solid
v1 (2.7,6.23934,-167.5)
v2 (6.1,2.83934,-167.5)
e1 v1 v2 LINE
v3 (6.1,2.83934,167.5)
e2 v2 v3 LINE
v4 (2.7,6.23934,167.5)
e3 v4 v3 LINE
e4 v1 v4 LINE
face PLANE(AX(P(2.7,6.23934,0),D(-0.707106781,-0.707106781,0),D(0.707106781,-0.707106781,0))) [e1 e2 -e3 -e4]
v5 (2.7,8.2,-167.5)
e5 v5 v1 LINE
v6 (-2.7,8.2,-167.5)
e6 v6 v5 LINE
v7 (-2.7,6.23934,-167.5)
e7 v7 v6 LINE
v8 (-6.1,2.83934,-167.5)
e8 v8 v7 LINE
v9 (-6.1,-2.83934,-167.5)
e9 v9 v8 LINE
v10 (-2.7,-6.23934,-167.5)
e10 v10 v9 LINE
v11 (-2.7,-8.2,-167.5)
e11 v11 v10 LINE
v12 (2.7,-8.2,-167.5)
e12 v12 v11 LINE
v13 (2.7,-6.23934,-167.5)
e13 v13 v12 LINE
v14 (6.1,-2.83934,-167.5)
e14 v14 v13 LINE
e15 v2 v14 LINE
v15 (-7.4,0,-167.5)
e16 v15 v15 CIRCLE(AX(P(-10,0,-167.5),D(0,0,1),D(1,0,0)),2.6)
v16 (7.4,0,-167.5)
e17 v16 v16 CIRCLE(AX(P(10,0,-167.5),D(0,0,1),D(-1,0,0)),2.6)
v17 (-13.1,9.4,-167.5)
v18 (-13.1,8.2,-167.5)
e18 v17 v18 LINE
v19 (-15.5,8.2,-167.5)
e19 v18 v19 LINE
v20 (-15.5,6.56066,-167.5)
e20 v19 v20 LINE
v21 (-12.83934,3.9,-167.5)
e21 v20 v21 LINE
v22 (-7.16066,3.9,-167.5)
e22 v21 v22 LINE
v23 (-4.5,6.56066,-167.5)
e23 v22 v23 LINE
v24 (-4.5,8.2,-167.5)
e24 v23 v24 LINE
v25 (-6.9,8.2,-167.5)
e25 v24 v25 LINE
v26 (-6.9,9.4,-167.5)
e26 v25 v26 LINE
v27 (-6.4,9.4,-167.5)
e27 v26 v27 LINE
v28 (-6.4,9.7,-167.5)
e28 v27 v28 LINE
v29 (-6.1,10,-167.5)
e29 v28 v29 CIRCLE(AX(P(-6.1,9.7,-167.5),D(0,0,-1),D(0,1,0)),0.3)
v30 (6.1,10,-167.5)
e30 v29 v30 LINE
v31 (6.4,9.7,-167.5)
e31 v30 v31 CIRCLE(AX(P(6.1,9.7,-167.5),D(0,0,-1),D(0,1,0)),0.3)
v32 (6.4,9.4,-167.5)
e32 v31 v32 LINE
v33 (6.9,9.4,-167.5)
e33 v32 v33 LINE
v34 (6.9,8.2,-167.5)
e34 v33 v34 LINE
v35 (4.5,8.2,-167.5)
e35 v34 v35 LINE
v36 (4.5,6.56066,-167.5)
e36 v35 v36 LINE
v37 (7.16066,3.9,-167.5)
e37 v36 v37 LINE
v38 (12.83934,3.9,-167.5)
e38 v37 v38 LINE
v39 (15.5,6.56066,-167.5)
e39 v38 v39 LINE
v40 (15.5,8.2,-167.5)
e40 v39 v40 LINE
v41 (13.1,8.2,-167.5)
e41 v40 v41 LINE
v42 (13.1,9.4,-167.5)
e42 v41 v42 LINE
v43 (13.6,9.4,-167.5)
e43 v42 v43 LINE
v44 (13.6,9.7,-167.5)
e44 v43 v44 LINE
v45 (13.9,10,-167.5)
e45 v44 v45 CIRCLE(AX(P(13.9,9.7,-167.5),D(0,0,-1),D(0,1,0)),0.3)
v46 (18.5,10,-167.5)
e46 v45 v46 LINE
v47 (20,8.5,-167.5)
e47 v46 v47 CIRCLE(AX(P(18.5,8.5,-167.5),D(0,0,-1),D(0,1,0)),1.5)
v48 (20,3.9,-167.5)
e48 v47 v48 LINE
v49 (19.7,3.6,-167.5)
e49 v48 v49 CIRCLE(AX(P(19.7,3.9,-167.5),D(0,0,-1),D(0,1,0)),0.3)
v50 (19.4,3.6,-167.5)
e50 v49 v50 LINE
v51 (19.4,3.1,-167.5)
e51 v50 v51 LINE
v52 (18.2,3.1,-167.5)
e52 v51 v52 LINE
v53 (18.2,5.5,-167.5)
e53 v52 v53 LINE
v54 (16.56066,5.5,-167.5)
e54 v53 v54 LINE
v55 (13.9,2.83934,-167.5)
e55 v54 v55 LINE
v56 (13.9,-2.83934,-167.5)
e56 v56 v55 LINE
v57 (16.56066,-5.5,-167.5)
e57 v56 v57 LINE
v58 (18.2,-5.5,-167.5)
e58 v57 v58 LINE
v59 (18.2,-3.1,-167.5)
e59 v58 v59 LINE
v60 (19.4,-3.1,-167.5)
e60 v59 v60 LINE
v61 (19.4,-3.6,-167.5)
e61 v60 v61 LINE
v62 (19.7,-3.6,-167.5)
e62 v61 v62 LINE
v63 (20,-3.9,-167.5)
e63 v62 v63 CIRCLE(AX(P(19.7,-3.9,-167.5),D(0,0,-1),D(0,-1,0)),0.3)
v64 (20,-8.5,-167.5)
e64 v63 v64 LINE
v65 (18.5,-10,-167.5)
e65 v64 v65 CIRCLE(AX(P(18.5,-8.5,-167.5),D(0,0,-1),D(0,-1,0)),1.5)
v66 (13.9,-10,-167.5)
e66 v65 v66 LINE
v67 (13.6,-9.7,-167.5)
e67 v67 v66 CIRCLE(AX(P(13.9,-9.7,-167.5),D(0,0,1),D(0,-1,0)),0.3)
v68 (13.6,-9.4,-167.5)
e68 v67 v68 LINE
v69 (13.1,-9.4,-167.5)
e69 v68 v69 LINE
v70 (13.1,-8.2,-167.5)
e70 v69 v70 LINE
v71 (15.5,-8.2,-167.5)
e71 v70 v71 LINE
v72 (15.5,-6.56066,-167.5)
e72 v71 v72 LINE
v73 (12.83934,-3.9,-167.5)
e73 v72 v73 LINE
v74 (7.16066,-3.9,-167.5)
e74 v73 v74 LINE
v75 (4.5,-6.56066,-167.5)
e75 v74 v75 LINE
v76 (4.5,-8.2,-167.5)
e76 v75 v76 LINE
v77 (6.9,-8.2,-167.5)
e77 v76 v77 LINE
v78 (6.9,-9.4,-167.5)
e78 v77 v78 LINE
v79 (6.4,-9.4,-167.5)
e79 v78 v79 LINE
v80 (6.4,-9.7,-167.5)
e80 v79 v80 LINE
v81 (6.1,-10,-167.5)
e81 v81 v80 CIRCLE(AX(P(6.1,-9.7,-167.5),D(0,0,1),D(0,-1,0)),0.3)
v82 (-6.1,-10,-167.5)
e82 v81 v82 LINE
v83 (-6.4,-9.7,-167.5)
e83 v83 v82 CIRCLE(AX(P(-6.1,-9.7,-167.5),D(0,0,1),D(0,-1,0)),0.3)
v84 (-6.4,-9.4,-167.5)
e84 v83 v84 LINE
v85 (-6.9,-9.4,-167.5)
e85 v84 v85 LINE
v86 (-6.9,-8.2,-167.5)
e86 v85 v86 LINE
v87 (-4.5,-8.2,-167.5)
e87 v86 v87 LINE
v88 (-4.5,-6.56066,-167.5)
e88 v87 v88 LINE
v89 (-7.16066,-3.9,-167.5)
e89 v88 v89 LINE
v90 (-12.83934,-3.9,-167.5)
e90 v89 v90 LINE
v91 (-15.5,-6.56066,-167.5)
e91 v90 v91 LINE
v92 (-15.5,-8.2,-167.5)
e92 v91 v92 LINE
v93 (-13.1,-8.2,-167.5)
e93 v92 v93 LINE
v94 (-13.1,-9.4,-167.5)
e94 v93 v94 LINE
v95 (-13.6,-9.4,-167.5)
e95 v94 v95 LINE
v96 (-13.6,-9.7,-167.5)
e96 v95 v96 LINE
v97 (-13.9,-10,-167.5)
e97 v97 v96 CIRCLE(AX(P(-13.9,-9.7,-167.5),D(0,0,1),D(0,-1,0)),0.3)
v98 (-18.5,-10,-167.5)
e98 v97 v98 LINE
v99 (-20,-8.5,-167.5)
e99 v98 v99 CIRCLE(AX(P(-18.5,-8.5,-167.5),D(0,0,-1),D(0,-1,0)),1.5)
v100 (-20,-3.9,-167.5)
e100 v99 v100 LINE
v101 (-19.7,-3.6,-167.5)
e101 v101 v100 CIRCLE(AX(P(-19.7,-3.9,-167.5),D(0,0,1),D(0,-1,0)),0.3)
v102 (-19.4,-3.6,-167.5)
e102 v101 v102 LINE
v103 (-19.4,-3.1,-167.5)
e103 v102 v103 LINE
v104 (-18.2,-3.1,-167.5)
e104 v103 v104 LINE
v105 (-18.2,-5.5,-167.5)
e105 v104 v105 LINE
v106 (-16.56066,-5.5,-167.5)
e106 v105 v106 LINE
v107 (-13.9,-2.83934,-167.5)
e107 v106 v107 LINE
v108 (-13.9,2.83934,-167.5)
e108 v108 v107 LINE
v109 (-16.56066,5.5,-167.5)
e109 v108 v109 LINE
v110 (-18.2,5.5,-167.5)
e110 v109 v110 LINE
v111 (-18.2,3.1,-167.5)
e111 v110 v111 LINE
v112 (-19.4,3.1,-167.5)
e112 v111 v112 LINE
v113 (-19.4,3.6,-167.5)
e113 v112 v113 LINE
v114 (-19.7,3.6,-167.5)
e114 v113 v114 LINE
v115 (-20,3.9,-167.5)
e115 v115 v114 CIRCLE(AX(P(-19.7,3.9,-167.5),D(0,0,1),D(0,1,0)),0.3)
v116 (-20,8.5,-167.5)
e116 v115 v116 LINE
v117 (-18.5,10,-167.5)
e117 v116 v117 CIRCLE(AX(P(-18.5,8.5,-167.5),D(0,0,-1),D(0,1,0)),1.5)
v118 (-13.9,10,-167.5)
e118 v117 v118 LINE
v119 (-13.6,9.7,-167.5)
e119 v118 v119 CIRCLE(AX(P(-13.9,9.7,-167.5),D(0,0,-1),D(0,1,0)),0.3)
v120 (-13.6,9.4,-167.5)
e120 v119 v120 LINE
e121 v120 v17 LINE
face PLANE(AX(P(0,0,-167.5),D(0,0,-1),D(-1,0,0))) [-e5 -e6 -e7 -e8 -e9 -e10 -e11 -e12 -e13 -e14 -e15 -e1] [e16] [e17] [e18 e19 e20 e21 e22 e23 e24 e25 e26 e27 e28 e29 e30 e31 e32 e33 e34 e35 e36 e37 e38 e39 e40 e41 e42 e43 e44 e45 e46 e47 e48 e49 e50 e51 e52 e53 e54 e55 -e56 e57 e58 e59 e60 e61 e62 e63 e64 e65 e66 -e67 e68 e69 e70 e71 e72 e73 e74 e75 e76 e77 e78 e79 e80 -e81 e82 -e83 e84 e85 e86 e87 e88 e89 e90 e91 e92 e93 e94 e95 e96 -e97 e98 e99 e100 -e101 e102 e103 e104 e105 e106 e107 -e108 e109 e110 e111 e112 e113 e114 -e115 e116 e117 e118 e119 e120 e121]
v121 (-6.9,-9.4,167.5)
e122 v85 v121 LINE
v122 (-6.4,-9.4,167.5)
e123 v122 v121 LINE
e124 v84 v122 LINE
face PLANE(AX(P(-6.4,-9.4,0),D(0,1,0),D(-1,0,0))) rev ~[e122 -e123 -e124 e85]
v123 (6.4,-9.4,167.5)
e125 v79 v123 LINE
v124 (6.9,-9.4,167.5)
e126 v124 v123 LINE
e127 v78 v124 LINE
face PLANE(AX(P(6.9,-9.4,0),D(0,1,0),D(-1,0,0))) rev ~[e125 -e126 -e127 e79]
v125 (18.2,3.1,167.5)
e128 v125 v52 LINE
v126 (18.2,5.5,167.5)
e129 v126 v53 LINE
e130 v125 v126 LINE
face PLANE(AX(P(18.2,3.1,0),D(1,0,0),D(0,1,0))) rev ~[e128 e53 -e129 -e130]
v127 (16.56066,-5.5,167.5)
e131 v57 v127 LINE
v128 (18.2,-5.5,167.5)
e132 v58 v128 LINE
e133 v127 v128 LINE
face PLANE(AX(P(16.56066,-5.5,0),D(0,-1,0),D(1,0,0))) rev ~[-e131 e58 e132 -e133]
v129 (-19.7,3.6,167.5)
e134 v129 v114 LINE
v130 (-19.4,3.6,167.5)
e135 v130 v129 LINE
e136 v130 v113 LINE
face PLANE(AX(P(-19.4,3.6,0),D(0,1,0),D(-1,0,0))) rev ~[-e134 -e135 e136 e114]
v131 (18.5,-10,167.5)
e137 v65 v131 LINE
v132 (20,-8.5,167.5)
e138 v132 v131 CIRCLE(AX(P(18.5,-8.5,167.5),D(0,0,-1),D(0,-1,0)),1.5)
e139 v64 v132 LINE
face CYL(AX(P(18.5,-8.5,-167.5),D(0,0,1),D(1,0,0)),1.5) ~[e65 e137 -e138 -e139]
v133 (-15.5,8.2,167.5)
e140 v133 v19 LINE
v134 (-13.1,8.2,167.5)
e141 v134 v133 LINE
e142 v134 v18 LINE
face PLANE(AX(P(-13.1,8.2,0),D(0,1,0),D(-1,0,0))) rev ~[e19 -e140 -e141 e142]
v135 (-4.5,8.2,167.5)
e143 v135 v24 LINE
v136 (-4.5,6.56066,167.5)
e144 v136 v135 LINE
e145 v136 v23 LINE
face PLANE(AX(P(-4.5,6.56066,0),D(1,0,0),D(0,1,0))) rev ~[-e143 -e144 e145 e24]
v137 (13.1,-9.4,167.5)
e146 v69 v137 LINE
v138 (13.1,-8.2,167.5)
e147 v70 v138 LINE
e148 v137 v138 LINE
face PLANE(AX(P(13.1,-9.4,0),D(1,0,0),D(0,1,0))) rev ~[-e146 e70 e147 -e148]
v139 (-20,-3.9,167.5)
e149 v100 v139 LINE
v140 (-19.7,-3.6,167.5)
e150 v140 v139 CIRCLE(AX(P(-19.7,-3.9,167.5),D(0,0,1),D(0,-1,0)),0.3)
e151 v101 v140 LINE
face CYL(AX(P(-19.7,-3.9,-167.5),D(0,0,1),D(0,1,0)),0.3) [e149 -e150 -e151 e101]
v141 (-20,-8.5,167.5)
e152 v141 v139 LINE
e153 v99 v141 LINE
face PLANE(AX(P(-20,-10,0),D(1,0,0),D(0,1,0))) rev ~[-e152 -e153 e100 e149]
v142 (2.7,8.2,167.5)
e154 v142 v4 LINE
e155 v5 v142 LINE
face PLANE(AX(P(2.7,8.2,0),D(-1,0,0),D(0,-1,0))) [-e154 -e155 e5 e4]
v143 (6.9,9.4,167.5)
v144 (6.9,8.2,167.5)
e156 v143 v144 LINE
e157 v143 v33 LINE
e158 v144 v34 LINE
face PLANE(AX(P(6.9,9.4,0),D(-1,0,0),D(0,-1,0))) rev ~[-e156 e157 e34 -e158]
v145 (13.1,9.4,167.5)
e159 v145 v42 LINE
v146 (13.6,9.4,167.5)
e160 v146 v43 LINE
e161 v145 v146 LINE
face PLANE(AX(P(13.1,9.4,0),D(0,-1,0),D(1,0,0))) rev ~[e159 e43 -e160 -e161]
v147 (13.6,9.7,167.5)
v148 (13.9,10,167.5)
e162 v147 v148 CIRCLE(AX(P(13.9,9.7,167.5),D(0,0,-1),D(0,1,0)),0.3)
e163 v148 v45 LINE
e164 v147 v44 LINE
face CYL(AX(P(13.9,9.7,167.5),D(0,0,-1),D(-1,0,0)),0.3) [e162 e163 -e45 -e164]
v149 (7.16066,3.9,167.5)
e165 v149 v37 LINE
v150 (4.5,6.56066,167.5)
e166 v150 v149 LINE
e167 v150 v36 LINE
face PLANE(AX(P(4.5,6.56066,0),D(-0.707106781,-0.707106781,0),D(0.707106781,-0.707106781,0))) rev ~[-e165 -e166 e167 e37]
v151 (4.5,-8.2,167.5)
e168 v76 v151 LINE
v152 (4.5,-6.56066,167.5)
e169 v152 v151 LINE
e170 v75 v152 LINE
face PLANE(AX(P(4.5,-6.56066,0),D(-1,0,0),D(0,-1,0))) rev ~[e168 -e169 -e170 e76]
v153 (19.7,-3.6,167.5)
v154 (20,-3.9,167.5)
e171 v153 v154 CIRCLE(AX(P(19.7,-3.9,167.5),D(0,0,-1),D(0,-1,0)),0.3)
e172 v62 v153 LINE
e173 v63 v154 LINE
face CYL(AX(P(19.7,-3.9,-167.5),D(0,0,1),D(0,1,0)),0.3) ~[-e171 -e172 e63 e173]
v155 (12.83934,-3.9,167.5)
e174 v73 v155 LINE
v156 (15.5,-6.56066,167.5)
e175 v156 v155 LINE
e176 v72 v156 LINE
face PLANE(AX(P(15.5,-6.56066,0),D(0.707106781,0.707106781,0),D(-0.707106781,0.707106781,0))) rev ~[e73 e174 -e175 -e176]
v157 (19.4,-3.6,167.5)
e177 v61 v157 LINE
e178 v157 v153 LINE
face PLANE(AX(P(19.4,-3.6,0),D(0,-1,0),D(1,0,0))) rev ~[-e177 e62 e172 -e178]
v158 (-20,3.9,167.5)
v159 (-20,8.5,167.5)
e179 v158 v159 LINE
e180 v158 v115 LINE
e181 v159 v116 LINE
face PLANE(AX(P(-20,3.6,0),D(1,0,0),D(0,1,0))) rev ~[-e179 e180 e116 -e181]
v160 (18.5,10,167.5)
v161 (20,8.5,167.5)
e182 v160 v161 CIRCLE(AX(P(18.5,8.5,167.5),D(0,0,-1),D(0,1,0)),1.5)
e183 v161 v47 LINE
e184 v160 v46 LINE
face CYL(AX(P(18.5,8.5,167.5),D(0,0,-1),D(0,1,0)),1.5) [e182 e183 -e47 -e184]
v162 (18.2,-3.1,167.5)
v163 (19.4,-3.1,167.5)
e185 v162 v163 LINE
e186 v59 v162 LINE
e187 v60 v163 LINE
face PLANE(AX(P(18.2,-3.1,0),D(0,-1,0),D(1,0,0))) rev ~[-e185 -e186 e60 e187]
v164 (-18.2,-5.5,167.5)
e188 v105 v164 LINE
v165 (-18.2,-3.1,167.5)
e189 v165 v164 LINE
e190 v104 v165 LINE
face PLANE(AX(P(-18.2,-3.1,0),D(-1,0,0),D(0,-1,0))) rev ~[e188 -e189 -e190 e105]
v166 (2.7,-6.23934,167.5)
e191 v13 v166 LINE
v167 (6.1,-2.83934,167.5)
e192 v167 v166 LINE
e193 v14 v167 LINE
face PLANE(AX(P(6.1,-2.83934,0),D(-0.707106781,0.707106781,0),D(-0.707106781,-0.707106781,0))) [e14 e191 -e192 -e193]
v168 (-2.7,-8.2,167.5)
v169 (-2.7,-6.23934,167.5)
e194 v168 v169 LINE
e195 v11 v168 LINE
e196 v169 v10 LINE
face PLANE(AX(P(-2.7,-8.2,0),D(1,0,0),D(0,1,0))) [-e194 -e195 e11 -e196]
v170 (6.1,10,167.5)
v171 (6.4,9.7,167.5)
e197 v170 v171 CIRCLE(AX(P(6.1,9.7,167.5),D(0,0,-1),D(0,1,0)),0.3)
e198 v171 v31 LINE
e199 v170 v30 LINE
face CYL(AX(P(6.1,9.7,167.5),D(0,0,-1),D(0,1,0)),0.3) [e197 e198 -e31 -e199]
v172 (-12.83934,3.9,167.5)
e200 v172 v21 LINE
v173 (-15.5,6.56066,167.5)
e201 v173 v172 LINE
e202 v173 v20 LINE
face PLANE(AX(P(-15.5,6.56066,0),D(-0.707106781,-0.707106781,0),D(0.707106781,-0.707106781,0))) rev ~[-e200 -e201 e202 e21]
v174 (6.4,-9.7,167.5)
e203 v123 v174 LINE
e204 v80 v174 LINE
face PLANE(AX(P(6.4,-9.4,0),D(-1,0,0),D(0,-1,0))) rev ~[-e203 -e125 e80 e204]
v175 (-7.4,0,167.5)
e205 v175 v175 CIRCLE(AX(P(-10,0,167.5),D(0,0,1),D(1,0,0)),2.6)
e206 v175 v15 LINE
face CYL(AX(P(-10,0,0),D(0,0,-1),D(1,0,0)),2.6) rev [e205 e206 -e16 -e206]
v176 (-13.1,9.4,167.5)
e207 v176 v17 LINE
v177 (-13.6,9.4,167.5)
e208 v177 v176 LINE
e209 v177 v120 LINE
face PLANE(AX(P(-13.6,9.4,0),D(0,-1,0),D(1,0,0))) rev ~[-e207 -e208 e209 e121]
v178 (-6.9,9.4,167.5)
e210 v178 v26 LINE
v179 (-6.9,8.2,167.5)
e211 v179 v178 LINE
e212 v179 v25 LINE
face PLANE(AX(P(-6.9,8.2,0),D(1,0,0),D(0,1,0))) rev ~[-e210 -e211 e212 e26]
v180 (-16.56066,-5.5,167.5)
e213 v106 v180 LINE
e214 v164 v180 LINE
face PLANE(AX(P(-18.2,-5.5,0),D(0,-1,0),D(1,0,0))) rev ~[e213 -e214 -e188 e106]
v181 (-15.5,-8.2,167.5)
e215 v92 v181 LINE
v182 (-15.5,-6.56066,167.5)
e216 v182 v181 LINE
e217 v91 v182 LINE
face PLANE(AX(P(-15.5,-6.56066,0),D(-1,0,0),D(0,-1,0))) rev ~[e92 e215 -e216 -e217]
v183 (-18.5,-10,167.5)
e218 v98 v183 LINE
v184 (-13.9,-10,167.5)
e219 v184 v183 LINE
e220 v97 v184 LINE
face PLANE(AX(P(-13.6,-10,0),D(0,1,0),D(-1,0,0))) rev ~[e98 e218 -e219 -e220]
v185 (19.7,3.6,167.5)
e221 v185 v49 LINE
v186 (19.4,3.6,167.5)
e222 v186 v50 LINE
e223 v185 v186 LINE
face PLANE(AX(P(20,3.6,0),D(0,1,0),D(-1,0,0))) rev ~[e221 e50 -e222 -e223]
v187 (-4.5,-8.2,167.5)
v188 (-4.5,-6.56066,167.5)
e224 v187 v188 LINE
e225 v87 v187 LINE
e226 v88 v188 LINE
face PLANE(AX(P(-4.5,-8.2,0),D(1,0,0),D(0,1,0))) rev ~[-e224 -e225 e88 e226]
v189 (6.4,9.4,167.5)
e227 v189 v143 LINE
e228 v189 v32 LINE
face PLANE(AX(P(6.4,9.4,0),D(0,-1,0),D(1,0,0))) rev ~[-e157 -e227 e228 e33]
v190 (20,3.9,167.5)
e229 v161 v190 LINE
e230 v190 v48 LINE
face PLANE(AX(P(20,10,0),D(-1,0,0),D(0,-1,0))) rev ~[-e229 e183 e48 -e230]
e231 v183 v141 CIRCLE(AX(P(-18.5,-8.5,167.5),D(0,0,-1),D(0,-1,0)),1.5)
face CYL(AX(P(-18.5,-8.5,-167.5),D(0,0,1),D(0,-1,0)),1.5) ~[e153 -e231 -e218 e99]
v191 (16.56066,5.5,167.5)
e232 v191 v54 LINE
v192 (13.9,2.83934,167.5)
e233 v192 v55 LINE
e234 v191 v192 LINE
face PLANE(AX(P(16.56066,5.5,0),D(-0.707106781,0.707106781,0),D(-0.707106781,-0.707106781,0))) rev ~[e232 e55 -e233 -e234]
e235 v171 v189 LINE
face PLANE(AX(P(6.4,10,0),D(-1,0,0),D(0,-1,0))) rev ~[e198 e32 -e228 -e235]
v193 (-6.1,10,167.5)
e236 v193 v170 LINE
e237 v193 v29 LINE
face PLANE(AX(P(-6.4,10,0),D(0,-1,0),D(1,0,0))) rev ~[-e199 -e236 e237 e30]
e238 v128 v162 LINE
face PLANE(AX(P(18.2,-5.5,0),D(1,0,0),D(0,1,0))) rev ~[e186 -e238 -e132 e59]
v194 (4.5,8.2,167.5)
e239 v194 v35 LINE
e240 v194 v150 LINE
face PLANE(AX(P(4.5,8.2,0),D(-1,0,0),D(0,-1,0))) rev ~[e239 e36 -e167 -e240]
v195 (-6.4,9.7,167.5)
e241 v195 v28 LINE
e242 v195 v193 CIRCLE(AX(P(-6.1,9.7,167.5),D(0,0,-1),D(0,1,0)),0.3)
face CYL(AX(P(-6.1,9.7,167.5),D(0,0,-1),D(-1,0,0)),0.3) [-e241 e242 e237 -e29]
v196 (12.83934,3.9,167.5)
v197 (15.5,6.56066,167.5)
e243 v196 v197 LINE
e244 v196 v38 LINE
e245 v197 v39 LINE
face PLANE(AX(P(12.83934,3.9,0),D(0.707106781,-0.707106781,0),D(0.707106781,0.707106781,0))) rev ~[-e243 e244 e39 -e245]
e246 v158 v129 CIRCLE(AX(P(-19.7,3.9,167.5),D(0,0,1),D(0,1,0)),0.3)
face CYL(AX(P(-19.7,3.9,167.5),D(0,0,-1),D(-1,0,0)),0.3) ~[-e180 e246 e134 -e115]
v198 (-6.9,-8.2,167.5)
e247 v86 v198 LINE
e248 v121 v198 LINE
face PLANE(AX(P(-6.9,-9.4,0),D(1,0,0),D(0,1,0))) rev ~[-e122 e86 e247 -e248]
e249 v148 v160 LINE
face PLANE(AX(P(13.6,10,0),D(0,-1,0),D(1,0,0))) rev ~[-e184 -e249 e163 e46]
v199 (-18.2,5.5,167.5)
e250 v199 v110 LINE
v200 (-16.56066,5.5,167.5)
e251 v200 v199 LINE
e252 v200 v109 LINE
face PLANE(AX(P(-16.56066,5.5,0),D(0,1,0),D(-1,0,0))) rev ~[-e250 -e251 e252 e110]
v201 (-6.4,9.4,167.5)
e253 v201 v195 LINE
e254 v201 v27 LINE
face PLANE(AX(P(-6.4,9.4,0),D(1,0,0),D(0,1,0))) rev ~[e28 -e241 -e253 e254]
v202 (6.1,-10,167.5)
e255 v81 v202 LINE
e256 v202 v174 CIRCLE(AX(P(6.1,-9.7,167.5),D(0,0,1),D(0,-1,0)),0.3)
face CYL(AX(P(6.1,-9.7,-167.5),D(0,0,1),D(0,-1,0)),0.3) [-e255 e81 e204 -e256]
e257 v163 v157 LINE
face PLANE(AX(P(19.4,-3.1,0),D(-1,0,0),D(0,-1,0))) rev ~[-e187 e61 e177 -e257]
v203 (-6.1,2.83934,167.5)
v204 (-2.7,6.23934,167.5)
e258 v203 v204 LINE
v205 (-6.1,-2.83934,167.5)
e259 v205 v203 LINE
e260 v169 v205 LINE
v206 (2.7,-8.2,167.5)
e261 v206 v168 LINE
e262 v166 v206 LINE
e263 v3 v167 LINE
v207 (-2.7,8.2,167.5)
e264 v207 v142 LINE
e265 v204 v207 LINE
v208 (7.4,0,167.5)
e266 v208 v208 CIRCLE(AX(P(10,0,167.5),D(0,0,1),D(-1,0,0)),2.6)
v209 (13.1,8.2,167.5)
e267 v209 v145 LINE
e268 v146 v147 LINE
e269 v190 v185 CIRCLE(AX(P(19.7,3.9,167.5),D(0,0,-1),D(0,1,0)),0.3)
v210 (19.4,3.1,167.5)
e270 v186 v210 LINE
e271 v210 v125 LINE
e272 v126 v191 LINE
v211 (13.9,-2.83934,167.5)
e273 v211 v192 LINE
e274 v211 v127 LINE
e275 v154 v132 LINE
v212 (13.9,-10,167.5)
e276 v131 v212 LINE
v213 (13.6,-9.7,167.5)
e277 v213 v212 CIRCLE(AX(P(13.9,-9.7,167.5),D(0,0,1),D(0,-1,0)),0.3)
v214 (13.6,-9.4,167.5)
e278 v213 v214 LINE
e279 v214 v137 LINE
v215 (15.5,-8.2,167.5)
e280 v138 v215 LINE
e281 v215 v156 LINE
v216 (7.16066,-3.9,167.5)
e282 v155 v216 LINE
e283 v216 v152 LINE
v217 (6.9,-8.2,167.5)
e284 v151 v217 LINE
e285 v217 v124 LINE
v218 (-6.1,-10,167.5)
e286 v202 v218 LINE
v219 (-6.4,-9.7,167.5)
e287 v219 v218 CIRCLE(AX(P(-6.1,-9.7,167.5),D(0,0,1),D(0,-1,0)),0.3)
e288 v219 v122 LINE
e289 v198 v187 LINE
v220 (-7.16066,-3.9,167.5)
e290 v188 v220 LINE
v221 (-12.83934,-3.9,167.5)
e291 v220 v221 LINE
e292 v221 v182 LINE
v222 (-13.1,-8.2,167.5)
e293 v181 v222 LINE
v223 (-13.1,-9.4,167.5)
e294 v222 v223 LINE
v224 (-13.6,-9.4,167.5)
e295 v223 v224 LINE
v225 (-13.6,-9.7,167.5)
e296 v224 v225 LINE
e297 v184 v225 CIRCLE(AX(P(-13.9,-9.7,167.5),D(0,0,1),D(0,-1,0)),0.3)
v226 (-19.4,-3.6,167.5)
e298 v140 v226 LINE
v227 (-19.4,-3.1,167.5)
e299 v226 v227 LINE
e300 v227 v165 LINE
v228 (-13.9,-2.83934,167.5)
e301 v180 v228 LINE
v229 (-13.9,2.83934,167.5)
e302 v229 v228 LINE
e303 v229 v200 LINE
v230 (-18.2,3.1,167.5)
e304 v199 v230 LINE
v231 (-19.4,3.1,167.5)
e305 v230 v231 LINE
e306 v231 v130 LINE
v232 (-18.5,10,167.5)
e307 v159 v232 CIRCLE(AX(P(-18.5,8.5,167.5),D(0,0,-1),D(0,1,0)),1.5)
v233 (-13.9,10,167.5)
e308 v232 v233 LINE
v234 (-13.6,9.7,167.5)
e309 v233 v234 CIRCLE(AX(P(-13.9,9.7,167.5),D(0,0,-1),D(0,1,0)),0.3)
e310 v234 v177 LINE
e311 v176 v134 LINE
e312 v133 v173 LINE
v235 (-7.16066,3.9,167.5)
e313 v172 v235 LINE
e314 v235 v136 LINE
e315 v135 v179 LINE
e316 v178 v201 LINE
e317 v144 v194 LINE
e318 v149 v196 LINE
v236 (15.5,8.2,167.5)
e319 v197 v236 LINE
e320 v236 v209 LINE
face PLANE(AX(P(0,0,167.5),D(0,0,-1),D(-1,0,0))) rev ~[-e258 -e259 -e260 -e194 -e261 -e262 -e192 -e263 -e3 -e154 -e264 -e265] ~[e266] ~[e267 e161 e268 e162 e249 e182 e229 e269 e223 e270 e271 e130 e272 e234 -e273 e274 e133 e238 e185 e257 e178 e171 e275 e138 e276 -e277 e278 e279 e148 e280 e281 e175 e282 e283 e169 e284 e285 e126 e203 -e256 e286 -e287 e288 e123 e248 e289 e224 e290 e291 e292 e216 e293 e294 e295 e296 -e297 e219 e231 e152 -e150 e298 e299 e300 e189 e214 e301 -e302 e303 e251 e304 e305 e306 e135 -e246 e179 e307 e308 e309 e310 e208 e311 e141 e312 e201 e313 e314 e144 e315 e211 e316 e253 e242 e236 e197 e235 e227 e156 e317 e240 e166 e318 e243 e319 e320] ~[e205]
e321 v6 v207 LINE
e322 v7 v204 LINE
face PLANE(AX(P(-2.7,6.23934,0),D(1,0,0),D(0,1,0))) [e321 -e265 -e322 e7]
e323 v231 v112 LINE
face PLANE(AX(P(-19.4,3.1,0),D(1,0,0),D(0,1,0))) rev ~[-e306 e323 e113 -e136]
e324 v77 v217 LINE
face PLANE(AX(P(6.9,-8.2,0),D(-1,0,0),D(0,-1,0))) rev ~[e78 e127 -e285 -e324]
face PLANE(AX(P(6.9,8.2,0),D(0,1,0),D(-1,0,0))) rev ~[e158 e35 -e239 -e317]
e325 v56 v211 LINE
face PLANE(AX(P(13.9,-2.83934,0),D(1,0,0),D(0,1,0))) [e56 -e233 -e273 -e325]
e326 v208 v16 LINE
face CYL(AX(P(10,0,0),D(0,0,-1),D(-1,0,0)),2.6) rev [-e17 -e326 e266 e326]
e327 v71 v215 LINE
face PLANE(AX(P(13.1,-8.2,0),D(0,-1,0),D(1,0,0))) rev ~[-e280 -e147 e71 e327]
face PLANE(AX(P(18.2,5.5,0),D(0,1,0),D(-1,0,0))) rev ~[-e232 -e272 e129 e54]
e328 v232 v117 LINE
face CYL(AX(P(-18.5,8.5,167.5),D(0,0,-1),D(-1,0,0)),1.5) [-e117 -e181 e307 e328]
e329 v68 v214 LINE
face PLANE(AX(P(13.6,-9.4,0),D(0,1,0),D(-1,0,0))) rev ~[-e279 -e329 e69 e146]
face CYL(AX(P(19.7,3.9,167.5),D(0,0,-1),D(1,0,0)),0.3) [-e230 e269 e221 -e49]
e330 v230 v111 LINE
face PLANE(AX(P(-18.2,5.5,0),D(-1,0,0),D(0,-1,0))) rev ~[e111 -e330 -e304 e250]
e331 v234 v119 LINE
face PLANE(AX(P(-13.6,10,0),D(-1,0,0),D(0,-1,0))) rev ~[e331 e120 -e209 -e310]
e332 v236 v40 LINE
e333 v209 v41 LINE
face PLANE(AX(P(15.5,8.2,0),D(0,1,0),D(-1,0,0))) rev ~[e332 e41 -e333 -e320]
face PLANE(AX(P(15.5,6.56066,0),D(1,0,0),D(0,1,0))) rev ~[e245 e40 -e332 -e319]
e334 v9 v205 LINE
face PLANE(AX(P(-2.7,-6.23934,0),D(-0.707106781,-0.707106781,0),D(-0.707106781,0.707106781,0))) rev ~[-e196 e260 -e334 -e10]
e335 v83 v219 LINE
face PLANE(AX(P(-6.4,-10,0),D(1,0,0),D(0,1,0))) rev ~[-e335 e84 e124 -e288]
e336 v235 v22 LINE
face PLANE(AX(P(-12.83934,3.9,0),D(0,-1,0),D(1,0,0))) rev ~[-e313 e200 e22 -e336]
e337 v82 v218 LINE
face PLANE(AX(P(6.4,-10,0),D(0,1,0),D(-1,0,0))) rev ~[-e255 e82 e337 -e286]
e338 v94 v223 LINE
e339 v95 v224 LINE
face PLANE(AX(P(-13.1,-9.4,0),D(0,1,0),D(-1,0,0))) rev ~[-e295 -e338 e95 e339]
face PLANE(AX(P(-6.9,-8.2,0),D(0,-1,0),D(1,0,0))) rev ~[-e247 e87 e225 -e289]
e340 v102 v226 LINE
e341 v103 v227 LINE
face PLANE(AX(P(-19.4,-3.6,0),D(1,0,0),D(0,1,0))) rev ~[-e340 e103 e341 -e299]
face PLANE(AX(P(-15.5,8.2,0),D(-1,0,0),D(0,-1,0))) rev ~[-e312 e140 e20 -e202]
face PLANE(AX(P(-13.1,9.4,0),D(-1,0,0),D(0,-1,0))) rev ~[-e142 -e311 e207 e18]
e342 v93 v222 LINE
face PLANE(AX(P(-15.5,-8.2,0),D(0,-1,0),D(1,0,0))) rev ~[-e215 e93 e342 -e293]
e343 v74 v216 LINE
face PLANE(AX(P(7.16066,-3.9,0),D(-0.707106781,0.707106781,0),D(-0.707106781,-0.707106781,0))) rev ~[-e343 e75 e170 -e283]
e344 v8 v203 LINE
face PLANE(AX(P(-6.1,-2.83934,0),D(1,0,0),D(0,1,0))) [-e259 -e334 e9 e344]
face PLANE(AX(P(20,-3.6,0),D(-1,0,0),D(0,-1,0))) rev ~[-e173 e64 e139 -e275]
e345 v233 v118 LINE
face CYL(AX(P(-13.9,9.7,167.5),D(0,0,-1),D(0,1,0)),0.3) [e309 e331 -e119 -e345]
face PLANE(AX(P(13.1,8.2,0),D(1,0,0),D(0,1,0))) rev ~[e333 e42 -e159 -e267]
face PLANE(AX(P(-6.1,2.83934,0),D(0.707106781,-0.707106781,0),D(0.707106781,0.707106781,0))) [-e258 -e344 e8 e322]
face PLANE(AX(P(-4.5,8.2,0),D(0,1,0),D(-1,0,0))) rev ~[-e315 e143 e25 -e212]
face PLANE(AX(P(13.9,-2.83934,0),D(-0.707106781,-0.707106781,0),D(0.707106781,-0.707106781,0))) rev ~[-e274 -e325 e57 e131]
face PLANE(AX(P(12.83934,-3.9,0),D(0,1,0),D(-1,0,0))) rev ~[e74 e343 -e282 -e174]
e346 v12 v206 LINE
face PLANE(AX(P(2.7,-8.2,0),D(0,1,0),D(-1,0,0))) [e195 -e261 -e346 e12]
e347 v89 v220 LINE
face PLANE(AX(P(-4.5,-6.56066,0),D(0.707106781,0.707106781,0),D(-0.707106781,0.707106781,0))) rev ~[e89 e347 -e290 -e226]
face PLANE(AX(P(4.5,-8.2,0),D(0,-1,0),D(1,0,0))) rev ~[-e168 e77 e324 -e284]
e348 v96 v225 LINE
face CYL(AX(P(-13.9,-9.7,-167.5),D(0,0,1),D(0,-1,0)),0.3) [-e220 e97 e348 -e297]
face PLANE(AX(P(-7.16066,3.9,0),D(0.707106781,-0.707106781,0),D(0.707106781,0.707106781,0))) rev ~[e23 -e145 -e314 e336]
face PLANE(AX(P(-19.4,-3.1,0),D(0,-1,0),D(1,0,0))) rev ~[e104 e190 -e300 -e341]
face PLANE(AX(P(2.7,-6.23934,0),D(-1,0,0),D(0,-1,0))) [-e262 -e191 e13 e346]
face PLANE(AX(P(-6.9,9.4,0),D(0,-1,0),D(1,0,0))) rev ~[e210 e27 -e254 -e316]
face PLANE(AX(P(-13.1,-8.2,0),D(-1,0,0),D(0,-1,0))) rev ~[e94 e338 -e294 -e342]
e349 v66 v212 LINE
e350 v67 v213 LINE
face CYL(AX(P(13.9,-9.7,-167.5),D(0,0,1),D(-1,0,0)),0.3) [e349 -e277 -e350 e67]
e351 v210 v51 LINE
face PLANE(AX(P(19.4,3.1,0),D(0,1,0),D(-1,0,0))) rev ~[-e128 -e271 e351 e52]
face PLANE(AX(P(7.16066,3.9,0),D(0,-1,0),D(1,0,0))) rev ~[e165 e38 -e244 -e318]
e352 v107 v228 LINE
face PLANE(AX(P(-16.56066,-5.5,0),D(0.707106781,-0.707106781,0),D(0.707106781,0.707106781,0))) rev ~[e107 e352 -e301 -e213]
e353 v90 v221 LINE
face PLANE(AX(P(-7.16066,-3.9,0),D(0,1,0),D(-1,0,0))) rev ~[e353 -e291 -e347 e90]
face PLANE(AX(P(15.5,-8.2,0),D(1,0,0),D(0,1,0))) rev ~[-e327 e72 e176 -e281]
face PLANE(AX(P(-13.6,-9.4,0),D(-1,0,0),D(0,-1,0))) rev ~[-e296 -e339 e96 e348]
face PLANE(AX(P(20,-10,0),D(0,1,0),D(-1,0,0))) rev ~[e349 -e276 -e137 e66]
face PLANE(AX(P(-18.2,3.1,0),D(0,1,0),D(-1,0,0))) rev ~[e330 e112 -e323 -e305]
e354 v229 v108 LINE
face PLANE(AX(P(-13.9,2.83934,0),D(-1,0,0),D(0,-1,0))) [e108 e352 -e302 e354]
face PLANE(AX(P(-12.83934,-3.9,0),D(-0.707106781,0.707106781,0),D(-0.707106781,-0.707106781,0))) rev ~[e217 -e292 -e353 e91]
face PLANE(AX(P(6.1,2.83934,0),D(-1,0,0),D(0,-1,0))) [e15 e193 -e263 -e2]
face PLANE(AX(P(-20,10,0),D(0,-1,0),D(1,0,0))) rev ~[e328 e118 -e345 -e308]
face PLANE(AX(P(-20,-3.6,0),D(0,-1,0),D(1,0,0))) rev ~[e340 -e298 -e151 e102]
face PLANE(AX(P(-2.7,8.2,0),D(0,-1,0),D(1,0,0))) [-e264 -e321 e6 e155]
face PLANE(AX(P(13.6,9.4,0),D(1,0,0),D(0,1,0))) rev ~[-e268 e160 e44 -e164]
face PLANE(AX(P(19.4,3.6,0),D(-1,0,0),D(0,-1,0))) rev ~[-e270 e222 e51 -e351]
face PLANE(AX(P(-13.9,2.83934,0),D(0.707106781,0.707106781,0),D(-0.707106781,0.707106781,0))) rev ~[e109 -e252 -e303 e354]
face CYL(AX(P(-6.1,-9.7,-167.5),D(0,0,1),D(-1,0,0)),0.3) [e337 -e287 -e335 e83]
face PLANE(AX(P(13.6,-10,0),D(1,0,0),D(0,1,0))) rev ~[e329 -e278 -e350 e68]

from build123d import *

# Parameters (mm, degrees)
SKETCH_1_R      = 2.6
EXTRUDE_1_DEPTH = 167.5
FILLET_1_R      = 1.5
FILLET_2_R      = 0.3


with BuildPart() as part:
    # 草图1 → 凸台-拉伸1 (new, symmetric)
    with BuildSketch(Plane.XY):
        Polygon((-13.9, 0), (-13.9, 2.839339828), (-16.560660172, 5.5), (-18.2, 5.5), (-18.2, 3.1), (-19.4, 3.1), (-19.4, 3.6), (-20, 3.6), (-20, 10), (-13.6, 10), (-13.6, 9.4), (-13.1, 9.4), (-13.1, 8.2), (-15.5, 8.2), (-15.5, 6.560660172), (-12.839339828, 3.9), (-7.160660172, 3.9), (-4.5, 6.560660172), (-4.5, 8.2), (-6.9, 8.2), (-6.9, 9.4), (-6.4, 9.4), (-6.4, 10), (6.4, 10), (6.4, 9.4), (6.9, 9.4), (6.9, 8.2), (4.5, 8.2), (4.5, 6.560660172), (7.160660172, 3.9), (12.839339828, 3.9), (15.5, 6.560660172), (15.5, 8.2), (13.1, 8.2), (13.1, 9.4), (13.6, 9.4), (13.6, 10), (20, 10), (20, 3.6), (19.4, 3.6), (19.4, 3.1), (18.2, 3.1), (18.2, 5.5), (16.560660172, 5.5), (13.9, 2.839339828), (13.9, 0), (13.9, -2.839339828), (16.560660172, -5.5), (18.2, -5.5), (18.2, -3.1), (19.4, -3.1), (19.4, -3.6), (20, -3.6), (20, -10), (13.6, -10), (13.6, -9.4), (13.1, -9.4), (13.1, -8.2), (15.5, -8.2), (15.5, -6.560660172), (12.839339828, -3.9), (7.160660172, -3.9), (4.5, -6.560660172), (4.5, -8.2), (6.9, -8.2), (6.9, -9.4), (6.4, -9.4), (6.4, -10), (-6.4, -10), (-6.4, -9.4), (-6.9, -9.4), (-6.9, -8.2), (-4.5, -8.2), (-4.5, -6.560660172), (-7.160660172, -3.9), (-12.839339828, -3.9), (-15.5, -6.560660172), (-15.5, -8.2), (-13.1, -8.2), (-13.1, -9.4), (-13.6, -9.4), (-13.6, -10), (-20, -10), (-20, -3.6), (-19.4, -3.6), (-19.4, -3.1), (-18.2, -3.1), (-18.2, -5.5), (-16.560660172, -5.5), (-13.9, -2.839339828), align=None)
        with Locations((-10, 0)):
            Circle(SKETCH_1_R, mode=Mode.SUBTRACT)
        with Locations(Location((10, 0, 0), (0, 0, 180))):
            Circle(SKETCH_1_R, mode=Mode.SUBTRACT)
        Polygon((-6.1, -2.839339828), (-6.1, 2.839339828), (-2.7, 6.239339828), (-2.7, 8.2), (2.7, 8.2), (2.7, 6.239339828), (6.1, 2.839339828), (6.1, -2.839339828), (2.7, -6.239339828), (2.7, -8.2), (-2.7, -8.2), (-2.7, -6.239339828), align=None, mode=Mode.SUBTRACT)
    extrude(amount=EXTRUDE_1_DEPTH, both=True)

    # 圆角1
    fillet_1_edges = [part.edges().sort_by_distance(p)[0] for p in [
        (-20, 10, 0),
        (20, 10, 0),
        (20, -10, 0),
        (-20, -10, 0),
    ]]
    fillet(fillet_1_edges, radius=FILLET_1_R)

    # 圆角2
    fillet_2_edges = [part.edges().sort_by_distance(p)[0] for p in [
        (-20, 3.6, 0),
        (-13.6, 10, 0),
        (-6.4, 10, 0),
        (6.4, 10, 0),
        (13.6, 10, 0),
        (20, 3.6, 0),
        (20, -3.6, 0),
        (13.6, -10, 0),
        (6.4, -10, 0),
        (-6.4, -10, 0),
        (-13.6, -10, 0),
        (-20, -3.6, 0),
    ]]
    fillet(fillet_2_edges, radius=FILLET_2_R)


solid = part.part
